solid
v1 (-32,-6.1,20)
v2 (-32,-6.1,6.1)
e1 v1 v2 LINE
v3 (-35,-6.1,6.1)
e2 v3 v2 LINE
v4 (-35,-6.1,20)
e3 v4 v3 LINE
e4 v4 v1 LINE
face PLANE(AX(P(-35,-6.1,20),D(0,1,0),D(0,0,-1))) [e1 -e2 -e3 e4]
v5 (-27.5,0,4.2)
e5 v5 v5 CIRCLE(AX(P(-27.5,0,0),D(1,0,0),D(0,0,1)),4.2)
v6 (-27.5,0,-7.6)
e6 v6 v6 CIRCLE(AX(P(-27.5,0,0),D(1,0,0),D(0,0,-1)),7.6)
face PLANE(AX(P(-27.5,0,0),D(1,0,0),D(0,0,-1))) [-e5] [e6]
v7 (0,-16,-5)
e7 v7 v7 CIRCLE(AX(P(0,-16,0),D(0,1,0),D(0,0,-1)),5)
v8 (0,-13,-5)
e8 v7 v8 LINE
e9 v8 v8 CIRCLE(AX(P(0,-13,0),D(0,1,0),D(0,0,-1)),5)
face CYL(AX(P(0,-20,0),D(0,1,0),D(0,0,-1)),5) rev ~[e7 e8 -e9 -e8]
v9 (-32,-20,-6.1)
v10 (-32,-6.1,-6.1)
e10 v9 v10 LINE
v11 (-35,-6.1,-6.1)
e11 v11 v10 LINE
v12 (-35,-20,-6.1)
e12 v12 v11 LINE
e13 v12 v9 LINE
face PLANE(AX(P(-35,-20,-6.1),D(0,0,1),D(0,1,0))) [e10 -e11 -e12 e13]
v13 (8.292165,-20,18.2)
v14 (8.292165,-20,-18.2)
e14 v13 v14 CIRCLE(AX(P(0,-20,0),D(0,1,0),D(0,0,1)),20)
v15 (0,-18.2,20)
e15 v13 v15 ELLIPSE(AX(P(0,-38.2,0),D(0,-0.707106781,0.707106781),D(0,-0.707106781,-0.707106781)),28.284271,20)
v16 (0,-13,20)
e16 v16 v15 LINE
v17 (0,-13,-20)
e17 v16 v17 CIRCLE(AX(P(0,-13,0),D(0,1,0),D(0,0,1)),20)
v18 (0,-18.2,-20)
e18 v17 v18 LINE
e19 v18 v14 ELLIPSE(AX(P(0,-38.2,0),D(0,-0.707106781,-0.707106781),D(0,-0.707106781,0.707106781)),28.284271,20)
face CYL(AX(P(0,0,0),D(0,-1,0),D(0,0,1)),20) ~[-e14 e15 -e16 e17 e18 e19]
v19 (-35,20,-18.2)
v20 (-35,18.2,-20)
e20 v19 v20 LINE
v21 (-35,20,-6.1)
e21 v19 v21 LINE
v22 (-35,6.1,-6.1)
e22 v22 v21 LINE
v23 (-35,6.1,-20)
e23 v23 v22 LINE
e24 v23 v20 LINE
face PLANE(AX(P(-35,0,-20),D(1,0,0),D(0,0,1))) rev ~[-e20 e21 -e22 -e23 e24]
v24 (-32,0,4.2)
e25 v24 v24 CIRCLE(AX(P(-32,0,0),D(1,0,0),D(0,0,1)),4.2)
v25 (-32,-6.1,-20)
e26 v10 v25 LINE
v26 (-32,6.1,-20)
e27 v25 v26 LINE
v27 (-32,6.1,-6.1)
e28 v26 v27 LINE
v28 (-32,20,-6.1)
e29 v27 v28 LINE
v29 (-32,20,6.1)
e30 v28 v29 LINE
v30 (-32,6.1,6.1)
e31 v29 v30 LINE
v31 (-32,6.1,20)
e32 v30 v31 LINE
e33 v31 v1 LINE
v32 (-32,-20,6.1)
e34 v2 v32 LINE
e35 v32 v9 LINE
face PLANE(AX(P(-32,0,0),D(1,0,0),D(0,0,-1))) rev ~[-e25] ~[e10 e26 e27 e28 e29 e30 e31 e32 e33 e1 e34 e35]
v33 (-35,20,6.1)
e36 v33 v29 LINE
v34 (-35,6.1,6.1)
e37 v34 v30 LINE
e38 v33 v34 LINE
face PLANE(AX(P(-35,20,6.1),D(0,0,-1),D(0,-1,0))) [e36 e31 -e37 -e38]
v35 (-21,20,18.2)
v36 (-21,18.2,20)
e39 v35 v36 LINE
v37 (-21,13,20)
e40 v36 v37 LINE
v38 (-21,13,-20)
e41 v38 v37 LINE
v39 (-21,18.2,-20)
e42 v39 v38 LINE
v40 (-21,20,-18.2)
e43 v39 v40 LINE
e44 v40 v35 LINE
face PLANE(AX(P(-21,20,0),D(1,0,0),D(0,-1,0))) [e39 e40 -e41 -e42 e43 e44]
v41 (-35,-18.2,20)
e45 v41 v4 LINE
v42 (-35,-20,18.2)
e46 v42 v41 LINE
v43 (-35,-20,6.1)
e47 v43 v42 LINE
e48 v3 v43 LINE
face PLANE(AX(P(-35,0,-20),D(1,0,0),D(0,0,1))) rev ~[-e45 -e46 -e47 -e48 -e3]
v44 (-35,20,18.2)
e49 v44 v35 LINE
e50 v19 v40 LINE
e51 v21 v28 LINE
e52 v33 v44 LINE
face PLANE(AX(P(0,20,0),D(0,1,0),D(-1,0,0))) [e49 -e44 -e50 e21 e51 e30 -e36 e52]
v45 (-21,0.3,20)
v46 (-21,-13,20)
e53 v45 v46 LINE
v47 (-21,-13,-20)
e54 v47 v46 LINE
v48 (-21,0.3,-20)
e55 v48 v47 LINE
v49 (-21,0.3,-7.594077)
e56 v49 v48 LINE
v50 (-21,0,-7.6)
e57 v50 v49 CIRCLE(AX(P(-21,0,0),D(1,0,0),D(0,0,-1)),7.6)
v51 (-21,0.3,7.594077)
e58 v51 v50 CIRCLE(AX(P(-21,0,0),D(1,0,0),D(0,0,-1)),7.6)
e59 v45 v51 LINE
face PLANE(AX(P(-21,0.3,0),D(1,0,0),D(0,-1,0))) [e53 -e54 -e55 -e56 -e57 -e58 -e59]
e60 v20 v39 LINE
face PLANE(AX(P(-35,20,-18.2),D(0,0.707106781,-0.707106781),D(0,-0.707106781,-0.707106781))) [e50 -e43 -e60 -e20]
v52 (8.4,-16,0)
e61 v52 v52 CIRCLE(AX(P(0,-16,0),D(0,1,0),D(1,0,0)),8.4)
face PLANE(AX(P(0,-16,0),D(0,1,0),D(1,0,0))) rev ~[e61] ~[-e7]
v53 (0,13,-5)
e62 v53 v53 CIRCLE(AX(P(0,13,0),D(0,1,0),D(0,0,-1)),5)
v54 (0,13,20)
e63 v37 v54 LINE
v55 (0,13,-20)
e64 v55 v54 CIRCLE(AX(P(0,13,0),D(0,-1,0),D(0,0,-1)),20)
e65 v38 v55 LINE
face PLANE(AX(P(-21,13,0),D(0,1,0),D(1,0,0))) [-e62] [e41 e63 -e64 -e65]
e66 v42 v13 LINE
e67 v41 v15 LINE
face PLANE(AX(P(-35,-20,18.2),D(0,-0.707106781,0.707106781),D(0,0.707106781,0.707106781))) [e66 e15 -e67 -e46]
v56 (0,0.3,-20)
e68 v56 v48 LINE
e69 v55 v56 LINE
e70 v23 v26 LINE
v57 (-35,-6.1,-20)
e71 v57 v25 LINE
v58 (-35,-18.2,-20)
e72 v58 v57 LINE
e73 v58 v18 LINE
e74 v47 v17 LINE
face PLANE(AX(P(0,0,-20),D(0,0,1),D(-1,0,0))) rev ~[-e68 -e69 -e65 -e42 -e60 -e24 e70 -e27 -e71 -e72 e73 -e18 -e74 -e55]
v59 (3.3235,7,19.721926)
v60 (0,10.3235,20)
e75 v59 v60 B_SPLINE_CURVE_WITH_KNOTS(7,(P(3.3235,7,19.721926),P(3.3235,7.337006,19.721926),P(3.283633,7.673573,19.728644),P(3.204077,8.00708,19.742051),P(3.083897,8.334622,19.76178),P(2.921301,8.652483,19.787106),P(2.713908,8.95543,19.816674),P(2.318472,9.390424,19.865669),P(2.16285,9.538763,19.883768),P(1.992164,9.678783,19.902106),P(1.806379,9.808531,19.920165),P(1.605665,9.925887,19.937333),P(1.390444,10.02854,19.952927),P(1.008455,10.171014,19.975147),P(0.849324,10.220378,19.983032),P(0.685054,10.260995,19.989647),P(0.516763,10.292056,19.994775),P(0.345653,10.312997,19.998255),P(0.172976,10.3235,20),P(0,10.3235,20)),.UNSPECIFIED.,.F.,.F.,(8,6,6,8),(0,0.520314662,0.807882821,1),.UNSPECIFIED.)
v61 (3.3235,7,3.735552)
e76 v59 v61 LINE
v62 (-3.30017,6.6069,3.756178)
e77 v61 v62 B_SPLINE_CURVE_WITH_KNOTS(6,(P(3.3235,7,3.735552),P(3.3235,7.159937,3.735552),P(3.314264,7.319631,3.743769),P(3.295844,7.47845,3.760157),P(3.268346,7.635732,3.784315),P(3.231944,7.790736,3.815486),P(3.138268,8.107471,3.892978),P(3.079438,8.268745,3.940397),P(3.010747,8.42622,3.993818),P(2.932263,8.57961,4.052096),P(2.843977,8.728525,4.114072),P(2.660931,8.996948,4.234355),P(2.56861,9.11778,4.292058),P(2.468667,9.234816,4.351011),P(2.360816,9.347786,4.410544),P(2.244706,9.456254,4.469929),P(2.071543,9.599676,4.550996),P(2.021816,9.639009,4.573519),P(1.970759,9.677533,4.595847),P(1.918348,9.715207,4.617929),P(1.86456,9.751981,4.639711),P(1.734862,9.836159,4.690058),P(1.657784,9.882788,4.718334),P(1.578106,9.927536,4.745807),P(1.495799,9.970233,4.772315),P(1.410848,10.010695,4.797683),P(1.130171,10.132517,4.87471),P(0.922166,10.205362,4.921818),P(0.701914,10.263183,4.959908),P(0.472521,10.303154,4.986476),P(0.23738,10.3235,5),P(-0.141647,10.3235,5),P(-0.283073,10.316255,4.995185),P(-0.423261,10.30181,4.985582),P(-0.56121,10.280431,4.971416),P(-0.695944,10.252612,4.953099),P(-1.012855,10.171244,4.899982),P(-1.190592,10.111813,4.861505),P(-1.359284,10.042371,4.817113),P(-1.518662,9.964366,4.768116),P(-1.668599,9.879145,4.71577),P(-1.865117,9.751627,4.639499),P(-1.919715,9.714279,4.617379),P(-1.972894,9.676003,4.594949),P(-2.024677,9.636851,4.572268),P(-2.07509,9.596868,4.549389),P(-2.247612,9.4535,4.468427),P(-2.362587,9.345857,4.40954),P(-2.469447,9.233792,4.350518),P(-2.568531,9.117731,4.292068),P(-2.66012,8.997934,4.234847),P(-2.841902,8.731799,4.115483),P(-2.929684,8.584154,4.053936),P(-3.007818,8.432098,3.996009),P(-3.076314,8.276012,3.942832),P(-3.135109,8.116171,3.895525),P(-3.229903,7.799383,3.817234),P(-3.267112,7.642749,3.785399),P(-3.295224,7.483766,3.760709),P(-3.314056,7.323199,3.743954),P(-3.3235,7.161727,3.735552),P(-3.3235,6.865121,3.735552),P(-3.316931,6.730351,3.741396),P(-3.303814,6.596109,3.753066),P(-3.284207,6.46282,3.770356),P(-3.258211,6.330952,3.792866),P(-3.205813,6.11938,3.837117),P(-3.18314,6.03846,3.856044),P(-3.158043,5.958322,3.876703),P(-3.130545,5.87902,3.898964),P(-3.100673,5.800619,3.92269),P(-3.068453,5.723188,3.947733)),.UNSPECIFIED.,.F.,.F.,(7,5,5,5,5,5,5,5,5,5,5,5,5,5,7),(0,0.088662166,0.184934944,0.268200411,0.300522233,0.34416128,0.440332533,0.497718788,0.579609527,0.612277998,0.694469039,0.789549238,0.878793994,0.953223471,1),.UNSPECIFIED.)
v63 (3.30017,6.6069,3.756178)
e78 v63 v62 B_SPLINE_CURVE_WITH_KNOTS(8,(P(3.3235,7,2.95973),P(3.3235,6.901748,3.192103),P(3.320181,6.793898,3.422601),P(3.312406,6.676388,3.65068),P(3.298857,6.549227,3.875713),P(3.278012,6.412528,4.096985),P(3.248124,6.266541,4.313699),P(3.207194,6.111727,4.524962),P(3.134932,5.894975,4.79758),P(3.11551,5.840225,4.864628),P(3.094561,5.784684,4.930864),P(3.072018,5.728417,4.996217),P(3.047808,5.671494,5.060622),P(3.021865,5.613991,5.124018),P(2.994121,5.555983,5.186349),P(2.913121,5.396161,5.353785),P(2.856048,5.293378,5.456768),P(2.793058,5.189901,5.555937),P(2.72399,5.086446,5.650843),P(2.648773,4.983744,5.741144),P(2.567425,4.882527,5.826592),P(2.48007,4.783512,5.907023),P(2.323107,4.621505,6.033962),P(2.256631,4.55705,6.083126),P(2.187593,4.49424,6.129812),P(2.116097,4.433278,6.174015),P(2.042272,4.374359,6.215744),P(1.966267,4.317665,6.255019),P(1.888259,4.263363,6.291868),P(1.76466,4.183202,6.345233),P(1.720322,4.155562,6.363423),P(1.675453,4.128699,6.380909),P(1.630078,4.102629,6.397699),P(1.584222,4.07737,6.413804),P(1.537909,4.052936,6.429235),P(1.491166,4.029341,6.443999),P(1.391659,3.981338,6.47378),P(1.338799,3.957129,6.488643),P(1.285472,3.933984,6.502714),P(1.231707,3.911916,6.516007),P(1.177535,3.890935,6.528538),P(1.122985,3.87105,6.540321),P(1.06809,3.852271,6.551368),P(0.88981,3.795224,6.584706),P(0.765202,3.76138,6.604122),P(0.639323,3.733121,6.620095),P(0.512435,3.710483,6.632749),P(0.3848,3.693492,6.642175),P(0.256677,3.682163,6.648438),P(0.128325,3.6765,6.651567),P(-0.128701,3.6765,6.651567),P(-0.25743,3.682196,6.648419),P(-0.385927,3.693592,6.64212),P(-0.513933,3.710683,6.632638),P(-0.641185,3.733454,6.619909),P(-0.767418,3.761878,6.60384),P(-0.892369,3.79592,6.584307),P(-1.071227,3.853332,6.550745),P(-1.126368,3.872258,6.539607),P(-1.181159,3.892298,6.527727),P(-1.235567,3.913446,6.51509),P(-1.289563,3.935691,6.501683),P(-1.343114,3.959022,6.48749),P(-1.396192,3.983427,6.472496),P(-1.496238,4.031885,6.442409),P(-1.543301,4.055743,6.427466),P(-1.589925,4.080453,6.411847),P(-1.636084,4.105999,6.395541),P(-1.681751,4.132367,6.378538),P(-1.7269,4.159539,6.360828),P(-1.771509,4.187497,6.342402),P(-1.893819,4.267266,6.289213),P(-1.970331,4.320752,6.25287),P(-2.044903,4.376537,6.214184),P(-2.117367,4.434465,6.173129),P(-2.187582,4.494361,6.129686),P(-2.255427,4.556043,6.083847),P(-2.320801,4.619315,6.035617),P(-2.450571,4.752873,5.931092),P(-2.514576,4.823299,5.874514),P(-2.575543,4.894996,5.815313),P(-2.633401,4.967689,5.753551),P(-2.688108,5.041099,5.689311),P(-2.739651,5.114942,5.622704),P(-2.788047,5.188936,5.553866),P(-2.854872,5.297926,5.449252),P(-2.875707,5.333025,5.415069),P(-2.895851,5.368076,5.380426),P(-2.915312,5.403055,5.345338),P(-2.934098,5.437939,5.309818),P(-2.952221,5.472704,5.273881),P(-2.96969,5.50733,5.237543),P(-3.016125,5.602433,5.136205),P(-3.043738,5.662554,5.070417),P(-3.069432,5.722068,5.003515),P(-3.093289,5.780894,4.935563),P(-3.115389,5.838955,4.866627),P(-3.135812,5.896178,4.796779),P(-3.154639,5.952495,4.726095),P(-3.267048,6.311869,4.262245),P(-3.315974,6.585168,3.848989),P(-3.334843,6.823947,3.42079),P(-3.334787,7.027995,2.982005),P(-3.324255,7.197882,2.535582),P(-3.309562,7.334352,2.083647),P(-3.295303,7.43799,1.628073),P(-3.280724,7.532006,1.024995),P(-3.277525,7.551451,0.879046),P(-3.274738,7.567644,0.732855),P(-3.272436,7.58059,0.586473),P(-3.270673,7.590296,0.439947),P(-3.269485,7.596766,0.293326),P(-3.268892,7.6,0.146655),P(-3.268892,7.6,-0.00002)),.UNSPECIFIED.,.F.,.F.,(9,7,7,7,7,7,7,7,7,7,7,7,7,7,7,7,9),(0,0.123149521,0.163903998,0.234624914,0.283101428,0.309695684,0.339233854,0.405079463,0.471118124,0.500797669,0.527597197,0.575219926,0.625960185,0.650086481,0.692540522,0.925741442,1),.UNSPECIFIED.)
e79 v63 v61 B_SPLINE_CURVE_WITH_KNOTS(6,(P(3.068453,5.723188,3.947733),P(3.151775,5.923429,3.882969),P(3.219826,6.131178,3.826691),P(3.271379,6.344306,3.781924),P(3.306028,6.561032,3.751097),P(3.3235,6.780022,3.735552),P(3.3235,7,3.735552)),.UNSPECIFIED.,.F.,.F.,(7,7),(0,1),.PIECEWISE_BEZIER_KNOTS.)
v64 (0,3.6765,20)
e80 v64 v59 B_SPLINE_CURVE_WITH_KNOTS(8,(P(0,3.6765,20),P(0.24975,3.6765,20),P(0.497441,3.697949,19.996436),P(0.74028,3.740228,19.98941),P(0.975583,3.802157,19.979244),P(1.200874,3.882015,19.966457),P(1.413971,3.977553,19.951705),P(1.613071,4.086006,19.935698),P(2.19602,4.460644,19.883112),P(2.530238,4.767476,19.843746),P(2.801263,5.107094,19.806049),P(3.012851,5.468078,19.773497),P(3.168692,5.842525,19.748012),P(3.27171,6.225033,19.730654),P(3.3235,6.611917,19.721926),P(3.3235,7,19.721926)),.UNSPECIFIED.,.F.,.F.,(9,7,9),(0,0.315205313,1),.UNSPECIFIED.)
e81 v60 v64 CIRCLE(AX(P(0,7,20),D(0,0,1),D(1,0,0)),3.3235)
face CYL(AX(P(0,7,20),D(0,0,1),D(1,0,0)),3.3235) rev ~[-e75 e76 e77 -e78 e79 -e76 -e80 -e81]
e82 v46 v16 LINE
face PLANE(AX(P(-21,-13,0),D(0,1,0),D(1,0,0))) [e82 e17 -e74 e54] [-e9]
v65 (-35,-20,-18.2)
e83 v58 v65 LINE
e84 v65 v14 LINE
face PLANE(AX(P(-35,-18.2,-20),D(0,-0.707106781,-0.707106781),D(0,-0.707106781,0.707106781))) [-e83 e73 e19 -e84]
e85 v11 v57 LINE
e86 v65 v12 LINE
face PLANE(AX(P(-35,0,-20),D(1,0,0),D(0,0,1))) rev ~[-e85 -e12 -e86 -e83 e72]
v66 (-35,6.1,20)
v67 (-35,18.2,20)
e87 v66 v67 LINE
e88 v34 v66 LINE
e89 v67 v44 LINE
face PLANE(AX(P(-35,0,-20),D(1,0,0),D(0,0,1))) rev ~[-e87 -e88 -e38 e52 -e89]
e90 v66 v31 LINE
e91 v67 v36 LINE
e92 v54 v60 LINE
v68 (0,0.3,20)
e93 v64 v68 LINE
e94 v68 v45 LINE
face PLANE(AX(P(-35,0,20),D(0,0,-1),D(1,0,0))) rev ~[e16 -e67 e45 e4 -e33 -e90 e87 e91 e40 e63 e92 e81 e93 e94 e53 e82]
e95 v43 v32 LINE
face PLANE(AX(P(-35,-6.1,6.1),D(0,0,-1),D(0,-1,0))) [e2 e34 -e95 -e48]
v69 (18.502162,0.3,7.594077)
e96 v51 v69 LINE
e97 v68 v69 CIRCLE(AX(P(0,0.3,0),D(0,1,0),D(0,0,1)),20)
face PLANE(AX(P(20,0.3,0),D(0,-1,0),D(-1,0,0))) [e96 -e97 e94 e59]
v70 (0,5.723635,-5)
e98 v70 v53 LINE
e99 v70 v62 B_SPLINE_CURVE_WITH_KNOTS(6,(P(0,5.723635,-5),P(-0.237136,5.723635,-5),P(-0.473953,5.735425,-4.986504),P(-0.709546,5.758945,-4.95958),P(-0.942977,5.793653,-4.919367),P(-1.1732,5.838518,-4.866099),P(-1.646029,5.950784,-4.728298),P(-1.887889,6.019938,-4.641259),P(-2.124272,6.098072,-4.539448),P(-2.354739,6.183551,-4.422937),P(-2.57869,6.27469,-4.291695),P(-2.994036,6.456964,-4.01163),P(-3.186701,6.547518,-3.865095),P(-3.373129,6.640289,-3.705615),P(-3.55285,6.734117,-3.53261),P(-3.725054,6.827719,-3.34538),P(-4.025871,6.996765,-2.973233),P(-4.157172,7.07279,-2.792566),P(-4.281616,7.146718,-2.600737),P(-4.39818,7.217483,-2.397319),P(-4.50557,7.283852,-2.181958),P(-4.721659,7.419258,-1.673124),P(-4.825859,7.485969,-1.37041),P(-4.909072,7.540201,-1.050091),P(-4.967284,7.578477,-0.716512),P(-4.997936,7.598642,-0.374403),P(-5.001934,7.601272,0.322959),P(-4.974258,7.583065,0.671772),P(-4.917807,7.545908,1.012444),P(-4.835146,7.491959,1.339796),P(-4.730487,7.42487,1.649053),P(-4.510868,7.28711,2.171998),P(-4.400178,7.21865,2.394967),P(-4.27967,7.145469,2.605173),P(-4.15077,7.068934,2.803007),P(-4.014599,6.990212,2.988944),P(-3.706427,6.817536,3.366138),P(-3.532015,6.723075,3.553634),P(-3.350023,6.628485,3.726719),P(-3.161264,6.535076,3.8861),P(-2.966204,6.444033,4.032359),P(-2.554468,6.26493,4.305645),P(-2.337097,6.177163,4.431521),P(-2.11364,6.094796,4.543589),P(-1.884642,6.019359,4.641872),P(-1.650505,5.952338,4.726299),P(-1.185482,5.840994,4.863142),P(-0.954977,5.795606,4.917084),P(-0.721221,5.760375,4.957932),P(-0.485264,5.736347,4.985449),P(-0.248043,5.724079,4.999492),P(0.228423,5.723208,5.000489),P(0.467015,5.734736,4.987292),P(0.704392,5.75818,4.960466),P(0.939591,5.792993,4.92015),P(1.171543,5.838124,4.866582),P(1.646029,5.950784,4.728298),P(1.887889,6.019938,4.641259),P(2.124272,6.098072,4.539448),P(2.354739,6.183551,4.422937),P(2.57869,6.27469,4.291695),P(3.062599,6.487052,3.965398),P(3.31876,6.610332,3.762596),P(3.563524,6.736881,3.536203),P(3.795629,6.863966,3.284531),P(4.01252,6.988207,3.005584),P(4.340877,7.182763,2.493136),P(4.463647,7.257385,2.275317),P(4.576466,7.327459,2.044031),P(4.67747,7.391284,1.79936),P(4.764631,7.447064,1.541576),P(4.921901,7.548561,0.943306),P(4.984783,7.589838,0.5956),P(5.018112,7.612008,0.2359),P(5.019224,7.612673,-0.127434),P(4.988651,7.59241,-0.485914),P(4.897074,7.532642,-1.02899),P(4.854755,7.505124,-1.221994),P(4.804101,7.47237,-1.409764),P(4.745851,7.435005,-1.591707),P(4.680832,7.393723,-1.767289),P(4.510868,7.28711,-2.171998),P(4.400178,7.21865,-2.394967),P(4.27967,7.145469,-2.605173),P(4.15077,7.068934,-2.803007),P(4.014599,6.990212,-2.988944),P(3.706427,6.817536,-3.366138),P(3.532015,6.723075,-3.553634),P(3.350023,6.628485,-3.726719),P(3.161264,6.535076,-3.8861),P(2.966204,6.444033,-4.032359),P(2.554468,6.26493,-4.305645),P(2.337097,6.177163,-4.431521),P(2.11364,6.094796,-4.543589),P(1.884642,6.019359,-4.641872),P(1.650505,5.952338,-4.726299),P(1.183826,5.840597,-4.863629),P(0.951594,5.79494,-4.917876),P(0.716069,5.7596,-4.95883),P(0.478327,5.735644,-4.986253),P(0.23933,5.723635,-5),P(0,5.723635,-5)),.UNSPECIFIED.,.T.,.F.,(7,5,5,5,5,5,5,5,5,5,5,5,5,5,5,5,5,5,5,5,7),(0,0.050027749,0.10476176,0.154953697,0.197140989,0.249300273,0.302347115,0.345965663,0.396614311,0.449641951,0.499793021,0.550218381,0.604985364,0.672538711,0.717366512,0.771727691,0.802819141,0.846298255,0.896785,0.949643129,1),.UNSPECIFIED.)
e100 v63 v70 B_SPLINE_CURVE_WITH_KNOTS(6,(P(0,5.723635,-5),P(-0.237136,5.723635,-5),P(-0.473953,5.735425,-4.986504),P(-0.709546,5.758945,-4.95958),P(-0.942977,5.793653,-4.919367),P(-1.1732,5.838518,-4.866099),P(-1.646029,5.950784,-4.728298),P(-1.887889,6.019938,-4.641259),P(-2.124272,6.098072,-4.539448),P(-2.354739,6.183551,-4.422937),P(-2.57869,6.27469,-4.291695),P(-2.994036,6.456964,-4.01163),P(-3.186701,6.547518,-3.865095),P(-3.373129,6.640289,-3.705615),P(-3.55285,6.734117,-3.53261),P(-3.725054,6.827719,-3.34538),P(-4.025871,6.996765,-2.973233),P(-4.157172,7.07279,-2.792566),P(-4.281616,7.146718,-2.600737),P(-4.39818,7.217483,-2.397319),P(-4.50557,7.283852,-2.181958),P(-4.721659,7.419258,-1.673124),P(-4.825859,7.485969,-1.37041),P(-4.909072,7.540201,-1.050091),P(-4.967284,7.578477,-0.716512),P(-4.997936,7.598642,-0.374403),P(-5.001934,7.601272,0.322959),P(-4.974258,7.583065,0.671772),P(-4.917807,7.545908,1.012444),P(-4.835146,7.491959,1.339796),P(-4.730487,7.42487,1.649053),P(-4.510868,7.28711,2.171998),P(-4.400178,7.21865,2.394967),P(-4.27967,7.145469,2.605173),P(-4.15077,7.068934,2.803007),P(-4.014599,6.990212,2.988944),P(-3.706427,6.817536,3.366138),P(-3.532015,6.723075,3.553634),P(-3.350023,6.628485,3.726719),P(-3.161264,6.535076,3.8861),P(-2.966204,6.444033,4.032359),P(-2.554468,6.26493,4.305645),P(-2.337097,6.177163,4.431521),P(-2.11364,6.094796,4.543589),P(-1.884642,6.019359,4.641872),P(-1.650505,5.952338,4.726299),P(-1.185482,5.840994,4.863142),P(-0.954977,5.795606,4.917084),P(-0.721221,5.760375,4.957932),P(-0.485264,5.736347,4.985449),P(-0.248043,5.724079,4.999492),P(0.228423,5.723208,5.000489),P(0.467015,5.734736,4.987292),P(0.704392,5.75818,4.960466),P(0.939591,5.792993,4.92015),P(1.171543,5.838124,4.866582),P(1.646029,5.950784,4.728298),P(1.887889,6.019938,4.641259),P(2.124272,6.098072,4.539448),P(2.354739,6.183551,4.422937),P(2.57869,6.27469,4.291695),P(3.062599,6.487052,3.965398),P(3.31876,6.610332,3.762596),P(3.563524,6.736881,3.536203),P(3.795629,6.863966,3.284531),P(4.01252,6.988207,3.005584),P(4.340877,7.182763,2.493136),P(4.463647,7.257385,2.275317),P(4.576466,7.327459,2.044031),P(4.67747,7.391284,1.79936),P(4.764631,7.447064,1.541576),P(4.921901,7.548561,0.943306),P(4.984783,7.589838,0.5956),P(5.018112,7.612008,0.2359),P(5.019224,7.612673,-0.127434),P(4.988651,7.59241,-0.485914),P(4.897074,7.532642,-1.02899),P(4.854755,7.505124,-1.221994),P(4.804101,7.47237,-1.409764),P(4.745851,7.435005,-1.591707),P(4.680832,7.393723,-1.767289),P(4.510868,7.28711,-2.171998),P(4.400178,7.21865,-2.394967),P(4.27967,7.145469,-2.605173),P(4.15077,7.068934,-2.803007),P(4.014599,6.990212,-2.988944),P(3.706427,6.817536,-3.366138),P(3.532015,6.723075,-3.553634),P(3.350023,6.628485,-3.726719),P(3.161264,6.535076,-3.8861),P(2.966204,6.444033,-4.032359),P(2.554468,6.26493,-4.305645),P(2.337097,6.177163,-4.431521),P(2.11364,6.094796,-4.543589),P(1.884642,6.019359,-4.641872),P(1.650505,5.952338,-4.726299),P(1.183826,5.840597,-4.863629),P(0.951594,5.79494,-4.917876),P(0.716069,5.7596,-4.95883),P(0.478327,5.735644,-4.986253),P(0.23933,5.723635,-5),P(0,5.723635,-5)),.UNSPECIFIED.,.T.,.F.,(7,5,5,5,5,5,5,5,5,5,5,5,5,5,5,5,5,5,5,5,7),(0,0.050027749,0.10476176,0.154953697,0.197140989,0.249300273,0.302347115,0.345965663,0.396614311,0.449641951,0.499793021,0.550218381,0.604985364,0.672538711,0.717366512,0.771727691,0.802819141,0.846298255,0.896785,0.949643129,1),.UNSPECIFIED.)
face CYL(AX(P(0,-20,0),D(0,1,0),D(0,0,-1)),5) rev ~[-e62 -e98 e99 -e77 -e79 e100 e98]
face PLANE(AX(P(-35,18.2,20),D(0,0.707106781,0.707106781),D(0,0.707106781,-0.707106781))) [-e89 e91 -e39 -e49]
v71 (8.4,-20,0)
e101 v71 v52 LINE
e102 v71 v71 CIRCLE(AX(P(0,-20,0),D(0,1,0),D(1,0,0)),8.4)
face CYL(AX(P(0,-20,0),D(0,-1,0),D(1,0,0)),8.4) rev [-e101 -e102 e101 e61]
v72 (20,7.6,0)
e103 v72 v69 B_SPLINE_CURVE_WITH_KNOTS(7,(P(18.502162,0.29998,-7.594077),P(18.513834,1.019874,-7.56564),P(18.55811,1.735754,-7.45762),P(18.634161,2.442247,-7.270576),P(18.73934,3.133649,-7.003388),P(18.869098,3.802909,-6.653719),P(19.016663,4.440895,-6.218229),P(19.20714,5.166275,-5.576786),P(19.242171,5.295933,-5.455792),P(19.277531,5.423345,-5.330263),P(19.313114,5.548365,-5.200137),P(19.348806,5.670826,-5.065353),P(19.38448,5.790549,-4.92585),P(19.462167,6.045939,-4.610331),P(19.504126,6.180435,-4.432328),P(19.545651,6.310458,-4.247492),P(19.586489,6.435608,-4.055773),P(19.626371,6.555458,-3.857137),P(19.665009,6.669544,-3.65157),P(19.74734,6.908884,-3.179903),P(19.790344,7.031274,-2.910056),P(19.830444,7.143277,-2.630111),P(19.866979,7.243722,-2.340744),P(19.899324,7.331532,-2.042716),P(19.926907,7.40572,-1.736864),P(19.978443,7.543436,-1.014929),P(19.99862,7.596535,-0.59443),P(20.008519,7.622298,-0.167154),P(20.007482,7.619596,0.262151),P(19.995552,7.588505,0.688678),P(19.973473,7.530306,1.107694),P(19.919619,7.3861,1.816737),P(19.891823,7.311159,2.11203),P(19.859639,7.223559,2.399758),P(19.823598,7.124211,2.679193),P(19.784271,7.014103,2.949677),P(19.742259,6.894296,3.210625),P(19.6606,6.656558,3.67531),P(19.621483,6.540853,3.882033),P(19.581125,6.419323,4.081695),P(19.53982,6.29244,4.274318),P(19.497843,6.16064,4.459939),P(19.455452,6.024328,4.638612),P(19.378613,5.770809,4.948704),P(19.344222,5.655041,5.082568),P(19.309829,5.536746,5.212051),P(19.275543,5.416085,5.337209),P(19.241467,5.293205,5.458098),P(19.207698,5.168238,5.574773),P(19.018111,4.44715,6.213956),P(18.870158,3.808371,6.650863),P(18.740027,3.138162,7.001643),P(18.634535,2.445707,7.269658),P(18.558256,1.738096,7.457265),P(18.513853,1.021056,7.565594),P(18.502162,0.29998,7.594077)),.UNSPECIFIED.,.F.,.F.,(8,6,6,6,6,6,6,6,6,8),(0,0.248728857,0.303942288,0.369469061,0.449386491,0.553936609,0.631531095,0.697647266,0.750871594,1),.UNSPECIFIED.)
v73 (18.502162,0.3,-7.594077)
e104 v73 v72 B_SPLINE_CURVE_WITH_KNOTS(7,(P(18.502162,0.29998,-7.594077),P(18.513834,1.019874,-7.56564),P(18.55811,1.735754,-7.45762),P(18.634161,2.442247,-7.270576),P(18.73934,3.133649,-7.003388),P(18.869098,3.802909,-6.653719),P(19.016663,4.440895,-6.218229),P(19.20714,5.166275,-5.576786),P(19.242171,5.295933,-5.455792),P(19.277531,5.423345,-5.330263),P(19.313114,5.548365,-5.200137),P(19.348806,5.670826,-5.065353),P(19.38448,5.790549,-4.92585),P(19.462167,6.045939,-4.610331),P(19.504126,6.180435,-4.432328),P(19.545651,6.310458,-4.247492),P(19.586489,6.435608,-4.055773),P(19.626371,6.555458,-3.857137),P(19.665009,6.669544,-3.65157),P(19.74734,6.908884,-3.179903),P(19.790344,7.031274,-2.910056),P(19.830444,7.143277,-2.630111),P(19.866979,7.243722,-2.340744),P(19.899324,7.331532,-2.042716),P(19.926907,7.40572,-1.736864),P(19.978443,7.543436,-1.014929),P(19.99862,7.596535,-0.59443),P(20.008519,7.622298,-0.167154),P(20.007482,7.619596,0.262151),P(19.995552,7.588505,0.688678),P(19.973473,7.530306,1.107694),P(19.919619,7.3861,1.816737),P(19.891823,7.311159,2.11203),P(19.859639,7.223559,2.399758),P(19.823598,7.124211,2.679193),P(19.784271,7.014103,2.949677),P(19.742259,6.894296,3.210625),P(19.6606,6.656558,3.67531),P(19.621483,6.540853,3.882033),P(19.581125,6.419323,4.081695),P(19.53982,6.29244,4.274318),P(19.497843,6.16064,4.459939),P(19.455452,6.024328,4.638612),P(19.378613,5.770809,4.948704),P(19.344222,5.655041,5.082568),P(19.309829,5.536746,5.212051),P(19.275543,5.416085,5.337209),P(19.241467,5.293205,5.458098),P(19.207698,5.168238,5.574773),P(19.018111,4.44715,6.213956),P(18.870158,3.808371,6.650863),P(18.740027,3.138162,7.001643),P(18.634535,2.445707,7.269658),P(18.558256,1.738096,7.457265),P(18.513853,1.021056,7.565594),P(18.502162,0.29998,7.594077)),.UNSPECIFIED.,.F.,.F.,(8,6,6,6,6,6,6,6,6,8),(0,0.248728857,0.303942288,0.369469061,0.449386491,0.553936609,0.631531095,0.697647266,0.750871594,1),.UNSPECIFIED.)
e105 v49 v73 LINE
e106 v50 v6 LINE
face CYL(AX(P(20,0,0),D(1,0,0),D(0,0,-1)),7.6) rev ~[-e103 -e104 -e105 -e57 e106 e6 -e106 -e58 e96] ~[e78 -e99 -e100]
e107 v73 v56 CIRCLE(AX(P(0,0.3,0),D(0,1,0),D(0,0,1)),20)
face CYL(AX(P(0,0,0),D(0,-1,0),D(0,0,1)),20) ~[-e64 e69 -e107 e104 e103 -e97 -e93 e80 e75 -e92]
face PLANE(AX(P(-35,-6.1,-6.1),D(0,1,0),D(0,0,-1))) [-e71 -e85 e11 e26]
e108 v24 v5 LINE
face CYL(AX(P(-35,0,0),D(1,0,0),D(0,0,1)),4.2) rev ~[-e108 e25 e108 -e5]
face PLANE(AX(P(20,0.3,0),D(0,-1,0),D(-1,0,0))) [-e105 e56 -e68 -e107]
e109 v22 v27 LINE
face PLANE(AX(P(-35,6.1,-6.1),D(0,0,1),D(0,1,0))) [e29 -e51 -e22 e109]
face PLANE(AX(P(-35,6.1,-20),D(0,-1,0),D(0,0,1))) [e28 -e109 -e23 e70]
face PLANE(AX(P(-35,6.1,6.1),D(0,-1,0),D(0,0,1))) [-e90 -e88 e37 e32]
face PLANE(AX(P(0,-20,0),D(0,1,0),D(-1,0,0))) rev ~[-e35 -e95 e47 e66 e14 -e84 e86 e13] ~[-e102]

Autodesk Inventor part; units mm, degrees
sketch "Skizze_1" plane through (0, 0, 0) normal (0, 1, 0) x (-1, 0, 0)
  line L0 (35, -20) -> (35, 20)
  line L1 (35, 20) -> (0, 20)
  arc A0 (0, 20) -> (0, -20) centre (0, 0) ccw
  line L2 (0, -20) -> (35, -20)
extrude "Extrusion1" add sketch "Skizze_1" along normal mid plane 40
sketch "Skizze_2" plane through (0, 0, 0) normal (0, 0, 1) x (1, 0, 0)
  line L0 (-21, 20) -> (-21, 13)
  line L1 (-21, 13) -> (20, 13)
  line L2 (20, 13) -> (20, 20)
  line L3 (20, 20) -> (-21, 20)
extrude "Extrusion2" cut sketch "Skizze_2" along normal mid plane 40
sketch "Skizze_3" plane through (0, 0, 0) normal (0, 0, 1) x (1, 0, 0)
  line L0 (-21, -13) -> (20, -13)
  line L1 (20, -13) -> (20, 0.3)
  line L2 (20, 0.3) -> (-21, 0.3)
  line L3 (-21, 0.3) -> (-21, -13)
extrude "Extrusion3" cut sketch "Skizze_3" along normal mid plane 40
sketch "Skizze_4" plane through (20, 0, 0) normal (1, 0, 0) x (0, 0, -1)
  circle A0 centre (0, 0) radius 7.6
extrude "Extrusion4" cut sketch "Skizze_4" against normal blind 47.5
sketch "Sketch5" plane through (-35, -20, -20) normal (-1, 0, 0) x (0, 0, 1)
  point P0 (20, 20)
hole "Drilling 2" at (-35, 0, 0) direction (1, 0, 0) diameter 8.4 depth 11
sketch "Skizze_6" plane through (-35, 0, 0) normal (1, 0, 0) x (0, 0, -1)
  line L0 (-20, -6.1) -> (-6.1, -6.1)
  line L1 (-6.1, -6.1) -> (-6.1, -20)
  line L2 (-6.1, -20) -> (6.1, -20)
  line L3 (6.1, -20) -> (6.1, -6.1)
  line L4 (6.1, -6.1) -> (20, -6.1)
  line L5 (20, -6.1) -> (20, 6.1)
  line L6 (20, 6.1) -> (6.1, 6.1)
  line L7 (6.1, 6.1) -> (6.1, 20)
  line L8 (6.1, 20) -> (-6.1, 20)
  line L9 (-6.1, 20) -> (-6.1, 6.1)
  line L10 (-6.1, 6.1) -> (-20, 6.1)
  line L11 (-20, 6.1) -> (-20, -6.1)
extrude "Extrusion5" cut sketch "Skizze_6" along normal blind 3
sketch "Skizze_7" plane through (-35, 0, 0) normal (1, 0, 0) x (0, 0, -1)
  line L0 (18.2, 20) -> (20, 18.2)
  line L1 (20, 18.2) -> (20, 20)
  line L2 (20, 20) -> (18.2, 20)
extrude "Extrusion6" cut sketch "Skizze_7" along normal blind 55
sketch "Skizze_8" plane through (-35, 0, 0) normal (1, 0, 0) x (0, 0, -1)
  line L0 (-20, 20) -> (-20, 18.2)
  line L1 (-20, 18.2) -> (-18.2, 20)
  line L2 (-18.2, 20) -> (-20, 20)
extrude "Extrusion7" cut sketch "Skizze_8" along normal blind 55
sketch "Skizze_9" plane through (-35, 0, 0) normal (1, 0, 0) x (0, 0, -1)
  line L0 (-20, -20) -> (-18.2, -20)
  line L1 (-18.2, -20) -> (-20, -18.2)
  line L2 (-20, -18.2) -> (-20, -20)
extrude "Extrusion8" cut sketch "Skizze_9" along normal blind 55
sketch "Skizze_10" plane through (-35, 0, 0) normal (1, 0, 0) x (0, 0, -1)
  line L0 (18.2, -20) -> (20, -20)
  line L1 (20, -20) -> (20, -18.2)
  line L2 (20, -18.2) -> (18.2, -20)
extrude "Extrusion9" cut sketch "Skizze_10" along normal blind 55
sketch "Sketch11" plane through (0, -20, 0) normal (0, -1, 0) x (1, 0, 0)
  point P0 (0, 0)
hole "Drilling 3" at (0, -20, 0) direction (0, 1, 0) diameter 10 depth 40
sketch "Skizze_12" plane through (0, -20, 0) normal (0, 1, 0) x (1, 0, 0)
  circle A0 centre (0, 0) radius 8.4
extrude "Extrusion10" cut sketch "Skizze_12" along normal blind 4
sketch "Skizze_13" plane through (0, 0, 20) normal (0, 0, 1) x (1, 0, 0)
  circle A0 centre (0, 7) radius 3.3235
extrude "Extrusion11" cut sketch "Skizze_13" against normal blind 20
ref_plane "re_XY" through (0, 0, 0) normal (0, 1, 0) x (1, 0, 0)
ref_plane "re_YZ" through (0, 0, 0) normal (1, 0, 0) x (0, 0, -1)
ref_plane "re_ZX" through (0, 0, 0) normal (0, 0, -1) x (0, 1, 0)
ref_plane "bo1_XY" through (0, -20, 0) normal (0, 1, 0) x (1, 0, 0)
ref_plane "bo1_YZ" through (0, -20, 0) normal (1, 0, 0) x (0, 0, -1)
ref_plane "bo1_ZX" through (0, -20, 0) normal (0, 0, -1) x (0, 1, 0)
ref_plane "hebel_XY" through (0, 16, 0) normal (0, 1, 0) x (1, 0, 0)
ref_plane "hebel_YZ" through (0, 16, 0) normal (1, 0, 0) x (0, 0, -1)
ref_plane "hebel_ZX" through (0, 16, 0) normal (0, 0, -1) x (0, 1, 0)
properties part number "May Tec 1.63.14041_Base plates"
